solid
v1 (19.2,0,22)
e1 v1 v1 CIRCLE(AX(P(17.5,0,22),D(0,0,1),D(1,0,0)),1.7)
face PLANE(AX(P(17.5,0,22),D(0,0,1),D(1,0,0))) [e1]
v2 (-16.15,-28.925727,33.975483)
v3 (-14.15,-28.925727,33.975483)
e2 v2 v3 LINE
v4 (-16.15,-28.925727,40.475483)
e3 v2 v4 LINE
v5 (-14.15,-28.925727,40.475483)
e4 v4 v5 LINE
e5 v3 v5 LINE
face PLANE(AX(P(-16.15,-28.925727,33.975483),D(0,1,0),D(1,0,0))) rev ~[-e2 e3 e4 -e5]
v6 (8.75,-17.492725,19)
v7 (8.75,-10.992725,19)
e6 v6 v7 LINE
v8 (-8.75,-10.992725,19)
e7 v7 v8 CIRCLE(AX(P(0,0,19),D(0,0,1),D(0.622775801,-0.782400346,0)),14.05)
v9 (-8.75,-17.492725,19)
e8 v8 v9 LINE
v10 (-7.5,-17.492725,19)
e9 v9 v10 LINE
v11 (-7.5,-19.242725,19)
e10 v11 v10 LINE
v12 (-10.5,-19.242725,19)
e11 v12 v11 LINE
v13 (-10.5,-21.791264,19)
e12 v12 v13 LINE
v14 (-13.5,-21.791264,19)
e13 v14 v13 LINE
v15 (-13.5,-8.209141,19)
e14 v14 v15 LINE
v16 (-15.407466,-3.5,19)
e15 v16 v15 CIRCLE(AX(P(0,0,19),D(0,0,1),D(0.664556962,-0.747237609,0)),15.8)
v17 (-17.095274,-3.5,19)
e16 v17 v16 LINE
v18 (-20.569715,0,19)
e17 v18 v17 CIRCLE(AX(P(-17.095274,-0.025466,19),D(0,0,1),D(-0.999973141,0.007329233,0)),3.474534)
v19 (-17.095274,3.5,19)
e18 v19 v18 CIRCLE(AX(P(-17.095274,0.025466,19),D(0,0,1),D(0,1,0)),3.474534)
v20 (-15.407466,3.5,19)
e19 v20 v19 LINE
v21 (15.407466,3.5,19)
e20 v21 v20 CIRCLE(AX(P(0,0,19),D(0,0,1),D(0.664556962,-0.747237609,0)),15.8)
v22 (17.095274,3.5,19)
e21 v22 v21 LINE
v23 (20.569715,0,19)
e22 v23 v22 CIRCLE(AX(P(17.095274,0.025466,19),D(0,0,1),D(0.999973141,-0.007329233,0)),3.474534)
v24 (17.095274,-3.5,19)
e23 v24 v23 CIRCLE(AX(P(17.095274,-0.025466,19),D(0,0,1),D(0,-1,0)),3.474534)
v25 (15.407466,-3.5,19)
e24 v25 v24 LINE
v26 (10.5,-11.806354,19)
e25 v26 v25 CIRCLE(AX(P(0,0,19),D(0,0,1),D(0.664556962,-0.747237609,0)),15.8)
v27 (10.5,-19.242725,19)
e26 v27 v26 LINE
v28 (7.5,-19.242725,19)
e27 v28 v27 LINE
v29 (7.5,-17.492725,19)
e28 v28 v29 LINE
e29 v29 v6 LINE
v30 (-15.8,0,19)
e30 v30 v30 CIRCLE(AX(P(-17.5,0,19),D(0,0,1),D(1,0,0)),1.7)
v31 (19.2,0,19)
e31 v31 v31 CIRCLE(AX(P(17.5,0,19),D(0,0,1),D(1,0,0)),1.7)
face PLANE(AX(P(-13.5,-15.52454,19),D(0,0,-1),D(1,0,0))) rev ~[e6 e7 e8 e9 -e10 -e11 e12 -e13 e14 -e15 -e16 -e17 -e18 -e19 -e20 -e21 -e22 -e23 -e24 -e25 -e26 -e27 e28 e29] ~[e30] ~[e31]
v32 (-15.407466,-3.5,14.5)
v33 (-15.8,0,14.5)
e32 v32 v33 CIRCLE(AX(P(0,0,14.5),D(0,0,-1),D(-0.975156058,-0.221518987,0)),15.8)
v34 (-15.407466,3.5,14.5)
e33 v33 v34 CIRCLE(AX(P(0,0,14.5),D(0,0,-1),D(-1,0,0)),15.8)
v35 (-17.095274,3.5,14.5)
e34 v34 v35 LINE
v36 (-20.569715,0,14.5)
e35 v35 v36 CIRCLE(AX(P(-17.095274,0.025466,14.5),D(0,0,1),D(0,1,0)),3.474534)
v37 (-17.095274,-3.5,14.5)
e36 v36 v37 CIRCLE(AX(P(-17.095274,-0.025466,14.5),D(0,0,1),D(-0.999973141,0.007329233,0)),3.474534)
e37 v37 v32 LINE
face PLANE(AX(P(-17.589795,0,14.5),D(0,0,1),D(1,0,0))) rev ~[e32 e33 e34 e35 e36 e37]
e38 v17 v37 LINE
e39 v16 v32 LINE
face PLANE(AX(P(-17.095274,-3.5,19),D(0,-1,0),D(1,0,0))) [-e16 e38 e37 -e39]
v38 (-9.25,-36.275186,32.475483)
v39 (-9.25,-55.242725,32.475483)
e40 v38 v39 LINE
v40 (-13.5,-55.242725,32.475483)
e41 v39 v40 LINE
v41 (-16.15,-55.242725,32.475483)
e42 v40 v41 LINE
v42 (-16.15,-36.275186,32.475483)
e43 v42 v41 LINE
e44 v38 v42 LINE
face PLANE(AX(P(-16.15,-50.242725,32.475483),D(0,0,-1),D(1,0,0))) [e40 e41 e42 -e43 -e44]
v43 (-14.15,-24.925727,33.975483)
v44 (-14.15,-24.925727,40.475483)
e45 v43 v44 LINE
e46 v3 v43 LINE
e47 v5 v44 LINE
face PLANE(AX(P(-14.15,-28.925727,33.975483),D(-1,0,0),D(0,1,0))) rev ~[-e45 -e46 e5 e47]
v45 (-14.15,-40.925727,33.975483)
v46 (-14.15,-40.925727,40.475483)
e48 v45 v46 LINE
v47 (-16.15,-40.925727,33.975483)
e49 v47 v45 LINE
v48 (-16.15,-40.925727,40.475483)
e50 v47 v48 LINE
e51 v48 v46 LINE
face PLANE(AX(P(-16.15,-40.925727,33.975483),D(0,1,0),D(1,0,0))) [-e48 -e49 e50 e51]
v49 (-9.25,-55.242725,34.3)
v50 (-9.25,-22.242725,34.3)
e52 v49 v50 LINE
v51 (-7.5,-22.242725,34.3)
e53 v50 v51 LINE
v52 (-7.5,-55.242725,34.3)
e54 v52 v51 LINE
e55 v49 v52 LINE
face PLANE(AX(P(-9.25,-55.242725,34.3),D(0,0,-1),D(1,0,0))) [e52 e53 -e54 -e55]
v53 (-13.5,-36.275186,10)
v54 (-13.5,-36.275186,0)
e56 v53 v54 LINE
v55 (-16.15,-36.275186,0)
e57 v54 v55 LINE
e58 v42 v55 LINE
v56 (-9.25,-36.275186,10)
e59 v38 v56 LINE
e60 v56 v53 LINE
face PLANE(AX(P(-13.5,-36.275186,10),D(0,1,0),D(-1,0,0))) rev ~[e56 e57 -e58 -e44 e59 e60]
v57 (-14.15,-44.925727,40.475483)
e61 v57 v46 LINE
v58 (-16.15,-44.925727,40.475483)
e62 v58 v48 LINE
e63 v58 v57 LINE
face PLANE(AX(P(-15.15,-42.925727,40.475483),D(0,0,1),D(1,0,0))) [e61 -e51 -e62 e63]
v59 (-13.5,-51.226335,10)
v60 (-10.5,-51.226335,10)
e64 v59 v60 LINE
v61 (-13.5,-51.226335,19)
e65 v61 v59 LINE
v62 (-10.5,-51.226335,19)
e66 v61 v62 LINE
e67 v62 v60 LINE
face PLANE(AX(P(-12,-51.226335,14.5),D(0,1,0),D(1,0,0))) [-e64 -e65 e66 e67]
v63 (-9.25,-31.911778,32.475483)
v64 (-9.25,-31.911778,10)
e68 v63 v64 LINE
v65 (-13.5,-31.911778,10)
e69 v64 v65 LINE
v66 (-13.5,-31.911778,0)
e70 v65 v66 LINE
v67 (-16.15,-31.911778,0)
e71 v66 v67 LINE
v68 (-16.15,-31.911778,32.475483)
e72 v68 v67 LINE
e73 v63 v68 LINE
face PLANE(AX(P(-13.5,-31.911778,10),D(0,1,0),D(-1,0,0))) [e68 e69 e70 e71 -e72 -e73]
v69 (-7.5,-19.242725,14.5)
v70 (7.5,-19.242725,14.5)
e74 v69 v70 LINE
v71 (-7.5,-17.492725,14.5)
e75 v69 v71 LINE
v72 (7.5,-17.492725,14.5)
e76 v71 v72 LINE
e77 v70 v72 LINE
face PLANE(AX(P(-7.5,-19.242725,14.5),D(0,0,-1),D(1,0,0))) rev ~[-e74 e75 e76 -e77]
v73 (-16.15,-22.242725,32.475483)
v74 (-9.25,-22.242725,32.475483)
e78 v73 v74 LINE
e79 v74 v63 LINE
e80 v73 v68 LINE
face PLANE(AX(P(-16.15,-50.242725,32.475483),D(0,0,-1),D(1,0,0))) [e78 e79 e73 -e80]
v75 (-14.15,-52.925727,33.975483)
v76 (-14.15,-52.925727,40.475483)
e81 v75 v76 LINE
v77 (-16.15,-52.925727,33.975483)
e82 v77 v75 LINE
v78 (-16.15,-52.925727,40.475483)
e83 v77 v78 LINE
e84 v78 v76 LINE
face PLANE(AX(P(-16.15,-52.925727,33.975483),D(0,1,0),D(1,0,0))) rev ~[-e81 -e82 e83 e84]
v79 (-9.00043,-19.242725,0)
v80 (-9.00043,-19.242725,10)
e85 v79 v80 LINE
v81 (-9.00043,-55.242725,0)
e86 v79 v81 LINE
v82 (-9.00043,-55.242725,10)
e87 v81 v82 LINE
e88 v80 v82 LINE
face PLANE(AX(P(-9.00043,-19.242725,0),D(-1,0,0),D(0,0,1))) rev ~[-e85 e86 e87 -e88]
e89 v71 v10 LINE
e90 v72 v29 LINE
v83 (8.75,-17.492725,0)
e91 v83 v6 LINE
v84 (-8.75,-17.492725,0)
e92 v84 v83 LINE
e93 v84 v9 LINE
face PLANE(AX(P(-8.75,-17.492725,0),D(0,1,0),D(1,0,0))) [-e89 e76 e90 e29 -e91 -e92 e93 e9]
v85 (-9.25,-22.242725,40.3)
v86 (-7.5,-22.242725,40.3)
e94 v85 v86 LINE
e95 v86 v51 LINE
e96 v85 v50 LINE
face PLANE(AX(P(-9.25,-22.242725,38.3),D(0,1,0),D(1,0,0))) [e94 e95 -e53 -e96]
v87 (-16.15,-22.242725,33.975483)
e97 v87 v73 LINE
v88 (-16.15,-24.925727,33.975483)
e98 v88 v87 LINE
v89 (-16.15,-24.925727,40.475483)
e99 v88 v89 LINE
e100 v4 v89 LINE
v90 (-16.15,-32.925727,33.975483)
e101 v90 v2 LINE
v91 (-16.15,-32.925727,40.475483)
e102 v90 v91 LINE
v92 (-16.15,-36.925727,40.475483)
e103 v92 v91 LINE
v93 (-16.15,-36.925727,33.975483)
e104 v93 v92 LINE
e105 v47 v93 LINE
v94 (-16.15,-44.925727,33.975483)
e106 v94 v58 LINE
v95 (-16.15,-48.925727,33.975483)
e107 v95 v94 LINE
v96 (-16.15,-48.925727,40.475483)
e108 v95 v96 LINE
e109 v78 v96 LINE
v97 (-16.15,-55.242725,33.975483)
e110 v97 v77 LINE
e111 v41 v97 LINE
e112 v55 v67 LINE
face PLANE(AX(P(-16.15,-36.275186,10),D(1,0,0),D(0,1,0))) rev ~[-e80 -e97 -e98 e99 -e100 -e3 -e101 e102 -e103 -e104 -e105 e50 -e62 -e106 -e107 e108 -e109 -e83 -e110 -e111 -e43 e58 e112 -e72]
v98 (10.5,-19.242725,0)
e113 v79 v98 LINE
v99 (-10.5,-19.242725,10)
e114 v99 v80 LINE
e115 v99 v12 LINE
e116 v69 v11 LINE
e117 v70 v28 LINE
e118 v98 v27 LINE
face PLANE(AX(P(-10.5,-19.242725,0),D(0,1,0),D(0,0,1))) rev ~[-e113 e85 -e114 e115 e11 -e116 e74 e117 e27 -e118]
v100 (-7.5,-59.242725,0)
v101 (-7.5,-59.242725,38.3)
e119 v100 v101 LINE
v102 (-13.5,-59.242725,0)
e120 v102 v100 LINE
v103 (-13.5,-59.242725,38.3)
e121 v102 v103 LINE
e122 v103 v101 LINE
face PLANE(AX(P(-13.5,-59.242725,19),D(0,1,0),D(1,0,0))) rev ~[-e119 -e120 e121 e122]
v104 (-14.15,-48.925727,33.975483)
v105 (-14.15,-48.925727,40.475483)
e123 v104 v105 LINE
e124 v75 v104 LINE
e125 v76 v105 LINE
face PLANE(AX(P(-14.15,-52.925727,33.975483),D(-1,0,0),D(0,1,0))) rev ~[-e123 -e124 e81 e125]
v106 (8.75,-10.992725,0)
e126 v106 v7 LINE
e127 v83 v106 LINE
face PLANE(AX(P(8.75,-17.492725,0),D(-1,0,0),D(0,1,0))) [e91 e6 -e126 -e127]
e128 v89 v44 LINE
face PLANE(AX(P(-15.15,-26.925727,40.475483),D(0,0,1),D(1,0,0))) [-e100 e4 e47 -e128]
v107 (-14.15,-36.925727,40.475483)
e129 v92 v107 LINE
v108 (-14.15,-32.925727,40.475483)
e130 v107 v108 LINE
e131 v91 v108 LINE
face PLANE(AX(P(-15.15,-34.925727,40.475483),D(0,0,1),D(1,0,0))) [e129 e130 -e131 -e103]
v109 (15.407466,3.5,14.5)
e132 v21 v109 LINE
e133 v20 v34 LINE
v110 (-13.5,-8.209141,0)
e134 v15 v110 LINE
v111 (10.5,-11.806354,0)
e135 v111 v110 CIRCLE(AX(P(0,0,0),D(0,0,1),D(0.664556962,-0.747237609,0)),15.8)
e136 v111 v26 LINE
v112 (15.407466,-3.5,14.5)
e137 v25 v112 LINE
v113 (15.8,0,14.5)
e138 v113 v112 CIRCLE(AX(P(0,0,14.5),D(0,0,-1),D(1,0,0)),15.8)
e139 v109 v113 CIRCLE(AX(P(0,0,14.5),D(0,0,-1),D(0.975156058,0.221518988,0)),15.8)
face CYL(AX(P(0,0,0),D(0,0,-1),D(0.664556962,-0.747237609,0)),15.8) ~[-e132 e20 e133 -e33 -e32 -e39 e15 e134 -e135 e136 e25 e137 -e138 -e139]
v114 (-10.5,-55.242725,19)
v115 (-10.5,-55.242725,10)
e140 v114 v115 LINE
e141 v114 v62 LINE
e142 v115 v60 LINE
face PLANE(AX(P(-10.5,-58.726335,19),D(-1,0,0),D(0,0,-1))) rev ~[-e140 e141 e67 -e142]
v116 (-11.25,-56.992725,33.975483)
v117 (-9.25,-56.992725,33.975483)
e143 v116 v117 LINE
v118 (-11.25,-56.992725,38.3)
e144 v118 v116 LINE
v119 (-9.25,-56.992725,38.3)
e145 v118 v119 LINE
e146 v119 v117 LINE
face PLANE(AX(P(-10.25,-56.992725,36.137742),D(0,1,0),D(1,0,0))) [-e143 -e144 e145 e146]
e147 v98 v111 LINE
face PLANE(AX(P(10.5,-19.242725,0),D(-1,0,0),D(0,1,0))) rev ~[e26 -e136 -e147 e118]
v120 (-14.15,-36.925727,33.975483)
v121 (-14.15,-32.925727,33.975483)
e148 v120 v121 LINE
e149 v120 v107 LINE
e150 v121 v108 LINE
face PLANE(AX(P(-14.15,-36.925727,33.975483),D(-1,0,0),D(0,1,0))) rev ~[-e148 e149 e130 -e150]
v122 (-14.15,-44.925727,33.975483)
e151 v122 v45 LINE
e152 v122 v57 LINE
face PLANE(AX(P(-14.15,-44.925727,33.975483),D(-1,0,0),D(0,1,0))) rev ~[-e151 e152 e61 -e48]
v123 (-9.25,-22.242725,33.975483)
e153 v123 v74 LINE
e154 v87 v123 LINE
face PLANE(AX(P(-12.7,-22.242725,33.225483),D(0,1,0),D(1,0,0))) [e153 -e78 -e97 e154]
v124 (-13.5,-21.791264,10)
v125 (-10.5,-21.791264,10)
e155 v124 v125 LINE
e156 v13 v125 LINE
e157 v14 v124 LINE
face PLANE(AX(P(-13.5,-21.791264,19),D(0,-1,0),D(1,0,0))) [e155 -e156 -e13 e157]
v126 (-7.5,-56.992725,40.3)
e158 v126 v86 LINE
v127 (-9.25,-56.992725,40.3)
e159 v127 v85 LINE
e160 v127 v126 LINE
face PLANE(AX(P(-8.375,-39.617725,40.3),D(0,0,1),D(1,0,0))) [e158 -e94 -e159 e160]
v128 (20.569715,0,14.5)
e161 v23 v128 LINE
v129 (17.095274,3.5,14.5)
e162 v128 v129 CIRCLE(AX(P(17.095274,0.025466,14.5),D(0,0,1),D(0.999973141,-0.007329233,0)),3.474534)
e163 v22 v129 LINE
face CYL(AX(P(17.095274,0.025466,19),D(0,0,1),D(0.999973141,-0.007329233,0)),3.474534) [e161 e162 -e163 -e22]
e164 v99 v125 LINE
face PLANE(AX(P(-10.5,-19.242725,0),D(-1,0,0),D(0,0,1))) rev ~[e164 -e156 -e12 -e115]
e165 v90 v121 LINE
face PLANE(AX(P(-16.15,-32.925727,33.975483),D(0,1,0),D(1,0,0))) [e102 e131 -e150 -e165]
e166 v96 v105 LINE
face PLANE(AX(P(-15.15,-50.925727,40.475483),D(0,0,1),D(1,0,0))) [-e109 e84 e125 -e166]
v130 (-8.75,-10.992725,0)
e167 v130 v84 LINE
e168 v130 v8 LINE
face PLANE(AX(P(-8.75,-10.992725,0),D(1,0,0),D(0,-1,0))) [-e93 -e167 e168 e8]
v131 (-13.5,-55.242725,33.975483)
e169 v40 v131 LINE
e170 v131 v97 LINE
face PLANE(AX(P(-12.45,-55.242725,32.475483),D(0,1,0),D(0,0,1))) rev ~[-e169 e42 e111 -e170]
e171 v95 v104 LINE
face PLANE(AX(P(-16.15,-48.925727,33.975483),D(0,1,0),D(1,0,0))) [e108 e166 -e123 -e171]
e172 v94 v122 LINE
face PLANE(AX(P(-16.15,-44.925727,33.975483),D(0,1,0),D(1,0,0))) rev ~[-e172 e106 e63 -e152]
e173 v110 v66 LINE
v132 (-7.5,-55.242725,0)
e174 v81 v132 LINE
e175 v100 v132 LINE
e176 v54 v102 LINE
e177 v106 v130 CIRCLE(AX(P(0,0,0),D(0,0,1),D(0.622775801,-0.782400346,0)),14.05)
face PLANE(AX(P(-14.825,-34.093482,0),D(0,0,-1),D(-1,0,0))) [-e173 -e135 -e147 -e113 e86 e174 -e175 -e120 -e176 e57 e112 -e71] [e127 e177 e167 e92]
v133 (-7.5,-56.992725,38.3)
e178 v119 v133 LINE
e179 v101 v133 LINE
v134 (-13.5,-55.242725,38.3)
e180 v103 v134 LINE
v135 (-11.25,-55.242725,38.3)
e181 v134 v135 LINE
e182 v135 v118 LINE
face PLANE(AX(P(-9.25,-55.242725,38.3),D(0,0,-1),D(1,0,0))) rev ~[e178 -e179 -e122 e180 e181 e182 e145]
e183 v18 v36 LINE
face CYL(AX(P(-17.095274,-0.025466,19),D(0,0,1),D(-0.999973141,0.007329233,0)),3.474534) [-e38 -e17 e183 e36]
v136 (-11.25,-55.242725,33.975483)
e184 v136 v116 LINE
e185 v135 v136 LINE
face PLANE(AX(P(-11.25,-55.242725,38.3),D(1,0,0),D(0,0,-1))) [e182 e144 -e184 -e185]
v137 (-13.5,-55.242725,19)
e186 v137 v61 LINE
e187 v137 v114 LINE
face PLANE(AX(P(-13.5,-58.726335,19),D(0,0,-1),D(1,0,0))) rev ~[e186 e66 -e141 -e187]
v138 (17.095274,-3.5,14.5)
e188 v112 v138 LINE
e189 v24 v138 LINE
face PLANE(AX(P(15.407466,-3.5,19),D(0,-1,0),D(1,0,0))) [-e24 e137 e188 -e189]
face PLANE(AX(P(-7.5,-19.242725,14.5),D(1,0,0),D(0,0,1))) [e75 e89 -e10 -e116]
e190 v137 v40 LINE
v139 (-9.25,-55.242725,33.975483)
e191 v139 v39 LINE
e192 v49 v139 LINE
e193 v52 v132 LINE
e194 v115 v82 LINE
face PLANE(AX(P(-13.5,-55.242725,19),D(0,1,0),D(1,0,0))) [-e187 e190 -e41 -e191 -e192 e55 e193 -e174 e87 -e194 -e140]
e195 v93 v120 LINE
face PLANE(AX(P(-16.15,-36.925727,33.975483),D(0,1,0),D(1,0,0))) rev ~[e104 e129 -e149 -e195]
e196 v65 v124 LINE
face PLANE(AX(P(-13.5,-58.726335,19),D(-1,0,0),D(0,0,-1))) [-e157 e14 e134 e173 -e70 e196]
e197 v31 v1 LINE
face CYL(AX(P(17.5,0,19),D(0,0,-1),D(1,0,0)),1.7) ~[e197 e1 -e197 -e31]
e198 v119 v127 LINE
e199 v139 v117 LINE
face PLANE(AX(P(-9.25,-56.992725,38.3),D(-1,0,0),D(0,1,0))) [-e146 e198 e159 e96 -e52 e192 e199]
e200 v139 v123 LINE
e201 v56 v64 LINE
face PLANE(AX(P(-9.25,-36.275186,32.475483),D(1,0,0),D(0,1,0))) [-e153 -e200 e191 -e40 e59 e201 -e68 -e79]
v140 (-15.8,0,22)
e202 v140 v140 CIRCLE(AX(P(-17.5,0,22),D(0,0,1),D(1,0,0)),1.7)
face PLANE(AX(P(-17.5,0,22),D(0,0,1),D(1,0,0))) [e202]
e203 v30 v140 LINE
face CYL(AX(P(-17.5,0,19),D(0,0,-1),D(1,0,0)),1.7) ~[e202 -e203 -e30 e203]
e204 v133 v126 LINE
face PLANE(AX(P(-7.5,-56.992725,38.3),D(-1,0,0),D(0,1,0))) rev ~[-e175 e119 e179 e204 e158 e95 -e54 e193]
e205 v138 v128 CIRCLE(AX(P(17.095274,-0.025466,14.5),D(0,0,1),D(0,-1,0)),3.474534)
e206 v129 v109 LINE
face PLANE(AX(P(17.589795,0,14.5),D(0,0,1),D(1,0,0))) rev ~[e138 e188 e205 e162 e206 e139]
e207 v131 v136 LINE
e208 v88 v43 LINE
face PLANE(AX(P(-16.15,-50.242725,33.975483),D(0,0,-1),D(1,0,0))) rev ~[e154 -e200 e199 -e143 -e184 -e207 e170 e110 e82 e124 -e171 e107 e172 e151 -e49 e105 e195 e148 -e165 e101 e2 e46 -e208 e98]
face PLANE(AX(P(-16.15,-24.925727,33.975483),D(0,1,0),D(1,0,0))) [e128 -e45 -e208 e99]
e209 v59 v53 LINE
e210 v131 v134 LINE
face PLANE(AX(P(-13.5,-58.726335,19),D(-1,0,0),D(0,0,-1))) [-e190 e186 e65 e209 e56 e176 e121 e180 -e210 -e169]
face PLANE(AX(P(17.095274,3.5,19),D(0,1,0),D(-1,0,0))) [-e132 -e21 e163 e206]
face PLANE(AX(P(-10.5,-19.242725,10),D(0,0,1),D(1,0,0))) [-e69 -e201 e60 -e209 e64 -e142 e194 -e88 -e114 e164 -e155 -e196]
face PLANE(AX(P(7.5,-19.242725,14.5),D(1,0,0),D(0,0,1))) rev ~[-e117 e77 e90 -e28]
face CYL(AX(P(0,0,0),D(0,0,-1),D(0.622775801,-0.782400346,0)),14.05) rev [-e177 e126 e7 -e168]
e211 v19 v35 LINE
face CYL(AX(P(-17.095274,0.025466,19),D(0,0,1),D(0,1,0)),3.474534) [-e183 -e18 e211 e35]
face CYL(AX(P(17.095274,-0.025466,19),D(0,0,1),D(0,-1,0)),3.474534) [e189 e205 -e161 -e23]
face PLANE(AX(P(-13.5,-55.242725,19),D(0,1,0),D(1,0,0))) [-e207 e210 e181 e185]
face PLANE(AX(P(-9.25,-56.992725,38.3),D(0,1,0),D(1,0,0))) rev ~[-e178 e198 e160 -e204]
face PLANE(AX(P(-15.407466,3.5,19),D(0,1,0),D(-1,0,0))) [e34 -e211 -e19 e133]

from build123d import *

# Parameters (mm, degrees)
BOSS_EXTRU_1_DEPTH      = 19
ESQUISSE2_R             = 1.7
BOSS_EXTRU_8_DEPTH      = 4.5
ESQUISSE2_4_R           = 1.7
BOSS_EXTRU_9_DEPTH      = 3
ESQUISSE5_W             = 15
ESQUISSE5_H             = 4.5
ENL_V_MAT_EXTRU_1_DEPTH = 1.75
ESQUISSE20_W            = 19
ESQUISSE20_H            = 3.718185323
BOSS_EXTRU_18_DEPTH     = 3
ESQUISSE21_W            = 3
ESQUISSE21_H            = 19
BOSS_EXTRU_19_DEPTH     = 40
ESQUISSE22_W            = 19
ESQUISSE22_H            = 4
BOSS_EXTRU_20_DEPTH     = 3
ESQUISSE23_W            = 6
ESQUISSE23_H            = 4
BOSS_EXTRU_21_DEPTH     = 19.3
ESQUISSE24_W            = 1.75
ESQUISSE24_H            = 4
BOSS_EXTRU_22_DEPTH     = 33
ESQUISSE25_W            = 2
ESQUISSE25_H            = 4.324516653
ENL_V_MAT_EXTRU_6_DEPTH = 1.75
ESQUISSE26_W            = 3.2
ESQUISSE26_H            = 1.5
BOSS_EXTRU_23_DEPTH     = 5
ESQUISSE27_W            = 1.5
ESQUISSE27_H            = 5
BOSS_EXTRU_24_DEPTH     = 3.7
BOSS_EXTRU_26_REACH     = 63.655
ESQUISSE29_W            = 3
ESQUISSE29_H            = 19
ESQUISSE30_W            = 1.499569939
ESQUISSE30_H            = 10
BOSS_EXTRU_27_DEPTH     = 36
ESQUISSE31_W            = 3
ESQUISSE31_H            = 36.935070483
ENL_V_MAT_EXTRU_7_DEPTH = 9
ESQUISSE32_W            = 3
ESQUISSE32_H            = 9
BOSS_EXTRU_28_DEPTH     = 7.5
ESQUISSE33_W            = 6.9
ESQUISSE33_H            = 1.5
BOSS_EXTRU_29_DEPTH     = 28
ESQUISSE34_W            = 6.9
ESQUISSE34_H            = 4.363408043
BOSS_EXTRU_30_DEPTH     = 22.475483347
ESQUISSE35_W            = 2.65
ESQUISSE35_H            = 4.363408043
BOSS_EXTRU_31_DEPTH     = 10
ESQUISSE36_W            = 2
ESQUISSE36_H            = 4
BOSS_EXTRU_32_DEPTH     = 6.5
ESQUISSE37_W            = 1.75
ESQUISSE37_H            = 34.75
BOSS_EXTRU_33_DEPTH     = 2


with BuildPart() as part:
    # Esquisse1 → Boss.-Extru.1 (new body)
    with BuildSketch(Plane.XY):
        with BuildLine():
            Line((-10.5, -11.806354221), (-10.5, -19.242724867))
            Line((-10.5, -19.242724867), (10.5, -19.242724867))
            Line((10.5, -19.242724867), (10.5, -11.806354221))
            ThreePointArc((10.5, -11.806354221), (0, 15.8), (-10.5, -11.806354221))
        make_face()
        with BuildLine():
            Line((-8.75, -10.992724867), (-8.75, -17.492724867))
            Line((-8.75, -17.492724867), (8.75, -17.492724867))
            Line((8.75, -17.492724867), (8.75, -10.992724867))
            ThreePointArc((8.75, -10.992724867), (0, 14.05), (-8.75, -10.992724867))
        make_face(mode=Mode.SUBTRACT)
    extrude(amount=BOSS_EXTRU_1_DEPTH)



with BuildPart() as body_2:
    # Esquisse2 → Boss.-Extru.8 (new body)
    # profile 1 of 4: a face of its own
    with BuildSketch(Plane.XY.offset(19)):
        with BuildLine():
            ThreePointArc((-15.8, 0), (-15.70155977, 1.760971547), (-15.407465723, 3.5))
            Line((-15.407465723, 3.5), (-17.095274292, 3.5))
            ThreePointArc((-17.095274292, 3.5), (-19.561128115, 2.473312424), (-20.569715298, 0))
            ThreePointArc((-20.569715298, 0), (-19.561128115, -2.473312424), (-17.095274292, -3.5))
            Line((-17.095274292, -3.5), (-15.407465723, -3.5))
            ThreePointArc((-15.407465723, -3.5), (-15.70155977, -1.760971547), (-15.8, 0))
        make_face()
        with Locations((-17.5, 0)):
            Circle(ESQUISSE2_R, mode=Mode.SUBTRACT)
    # profile 2 of 4: a face of its own
    with BuildSketch(Plane.XY.offset(19)):
        with BuildLine():
            Line((17.095274292, 3.5), (15.407465723, 3.5))
            ThreePointArc((15.407465723, 3.5), (15.70155977, 1.76097155), (15.8, 5e-09))
            ThreePointArc((15.8, 5e-09), (15.70155977, -1.760971545), (15.407465723, -3.5))
            Line((15.407465723, -3.5), (17.095274292, -3.5))
            ThreePointArc((17.095274292, -3.5), (19.561128115, -2.473312424), (20.569715298, 0))
            ThreePointArc((20.569715298, 0), (19.561128115, 2.473312424), (17.095274292, 3.5))
        make_face()
        with BuildLine():
            ThreePointArc((19.2, 0), (17.499999997, -1.7), (15.8, 5e-09))
            ThreePointArc((15.8, 5e-09), (17.500000003, 1.7), (19.2, 0))
        make_face(mode=Mode.SUBTRACT)
    # profile 3 of 4: a face of its own
    with BuildSketch(Plane.XY.offset(19)):
        with Locations((-17.5, 0)):
            Circle(ESQUISSE2_R)
    # profile 4 of 4: a face of its own
    with BuildSketch(Plane.XY.offset(19)):
        with Locations((17.5, 0)):
            Circle(ESQUISSE2_R)
    extrude(amount=-BOSS_EXTRU_8_DEPTH)


with BuildPart() as part_1:
    add(part.part)

    add(body_2.part)  # Boss.-Extru.9 merges body 2
    # Esquisse2<4> → Boss.-Extru.9 (add)
    with BuildSketch(Plane.XY.offset(19)):
        with Locations((-17.5, 0)):
            Circle(ESQUISSE2_4_R)
        with Locations((17.5, 0)):
            Circle(ESQUISSE2_4_R)
    extrude(amount=BOSS_EXTRU_9_DEPTH)

    # Esquisse5 → Enlèv. mat.-Extru.1 (cut)
    with BuildSketch(Plane.XZ.offset(19.242724867)):
        with Locations((0, 16.75)):
            Rectangle(ESQUISSE5_W, ESQUISSE5_H)
    extrude(amount=-ENL_V_MAT_EXTRU_1_DEPTH, mode=Mode.SUBTRACT)

    # Esquisse20 → Boss.-Extru.18 (add)
    with BuildSketch(Plane.ZY.offset(10.5)):
        with Locations((9.5, -17.383632205)):
            Rectangle(ESQUISSE20_W, ESQUISSE20_H)
    extrude(amount=BOSS_EXTRU_18_DEPTH)

    # Esquisse21 → Boss.-Extru.19 (add)
    with BuildSketch(Plane.XZ.offset(19.242724867)):
        with Locations((-12, 9.5)):
            Rectangle(ESQUISSE21_W, ESQUISSE21_H)
    extrude(amount=BOSS_EXTRU_19_DEPTH)

    # Esquisse22 → Boss.-Extru.20 (add)
    with BuildSketch(Plane(origin=(-10.5, 0, 0), x_dir=(0, 0, -1), z_dir=(1, 0, 0))):
        with Locations((-9.5, -57.242724867)):
            Rectangle(ESQUISSE22_W, ESQUISSE22_H)
    extrude(amount=BOSS_EXTRU_20_DEPTH)

    # Esquisse23 → Boss.-Extru.21 (add)
    with BuildSketch(Plane.XY.offset(19)):
        with Locations((-10.5, -57.242724867)):
            Rectangle(ESQUISSE23_W, ESQUISSE23_H)
    extrude(amount=BOSS_EXTRU_21_DEPTH)

    # Esquisse24 → Boss.-Extru.22 (add)
    with BuildSketch(Plane(origin=(0, -55.242724867, 0), x_dir=(1, 0, 0), z_dir=(0, 1, 0))):
        with Locations((-8.375, -36.3)):
            Rectangle(ESQUISSE24_W, ESQUISSE24_H)
    extrude(amount=BOSS_EXTRU_22_DEPTH)

    # Esquisse25 → Enlèv. mat.-Extru.6 (cut)
    with BuildSketch(Plane(origin=(0, -55.242724867, 0), x_dir=(1, 0, 0), z_dir=(0, 1, 0))):
        with Locations((-10.25, -36.137741674)):
            Rectangle(ESQUISSE25_W, ESQUISSE25_H)
    extrude(amount=-ENL_V_MAT_EXTRU_6_DEPTH, mode=Mode.SUBTRACT)

    # Esquisse26 → Boss.-Extru.23 (add)
    with BuildSketch(Plane(origin=(0, -55.242724867, 0), x_dir=(1, 0, 0), z_dir=(0, 1, 0))):
        with Locations((-10.85, -33.225483347)):
            Rectangle(ESQUISSE26_W, ESQUISSE26_H)
    extrude(amount=BOSS_EXTRU_23_DEPTH)

    # Esquisse27 → Boss.-Extru.24 (add)
    with BuildSketch(Plane.ZY.offset(12.45)):
        with Locations((33.225483347, -52.742724867)):
            Rectangle(ESQUISSE27_W, ESQUISSE27_H)
    extrude(amount=BOSS_EXTRU_24_DEPTH)

    # Esquisse29 → Boss.-Extru.26 (add, up to next)
    with BuildSketch(Plane(origin=(0, -15.524539544, 0), x_dir=(1, 0, 0), z_dir=(0, 1, 0)), mode=Mode.PRIVATE) as boss_extru_26_sk1:
        with Locations((-12, -9.5)):
            Rectangle(ESQUISSE29_W, ESQUISSE29_H)
    boss_extru_26_tool1 = extrude(boss_extru_26_sk1.sketch, amount=BOSS_EXTRU_26_REACH, mode=Mode.PRIVATE) - part_1.part
    add(boss_extru_26_tool1.solids().sort_by_distance((-12, -15.52454, 9.5))[0])

    # Esquisse30 → Boss.-Extru.27 (add)
    with BuildSketch(Plane.XZ.offset(19.242724867)):
        with Locations((-9.750215031, 5)):
            Rectangle(ESQUISSE30_W, ESQUISSE30_H)
    extrude(amount=BOSS_EXTRU_27_DEPTH)

    # Esquisse31 → Enlèv. mat.-Extru.7 (cut)
    with BuildSketch(Plane.XY.offset(19)):
        with Locations((-12, -40.258799307)):
            Rectangle(ESQUISSE31_W, ESQUISSE31_H)
    extrude(amount=-ENL_V_MAT_EXTRU_7_DEPTH, mode=Mode.SUBTRACT)

    # Esquisse32 → Boss.-Extru.28 (add)
    with BuildSketch(Plane(origin=(0, -58.726334549, 0), x_dir=(1, 0, 0), z_dir=(0, 1, 0))):
        with Locations((-12, -14.5)):
            Rectangle(ESQUISSE32_W, ESQUISSE32_H)
    extrude(amount=BOSS_EXTRU_28_DEPTH)

    # Esquisse33 → Boss.-Extru.29 (add)
    with BuildSketch(Plane(origin=(0, -50.242724867, 0), x_dir=(1, 0, 0), z_dir=(0, 1, 0))):
        with Locations((-12.7, -33.225483347)):
            Rectangle(ESQUISSE33_W, ESQUISSE33_H)
    extrude(amount=BOSS_EXTRU_29_DEPTH)

    # Esquisse34 → Boss.-Extru.30 (add)
    with BuildSketch(Plane(origin=(0, 0, 32.475483347), x_dir=(-1, 0, 0), z_dir=(0, 0, -1))):
        with Locations((12.7, -34.093482268)):
            Rectangle(ESQUISSE34_W, ESQUISSE34_H)
    extrude(amount=BOSS_EXTRU_30_DEPTH)

    # Esquisse35 → Boss.-Extru.31 (add)
    with BuildSketch(Plane(origin=(0, 0, 10), x_dir=(-1, 0, 0), z_dir=(0, 0, -1))):
        with Locations((14.825, -34.093482268)):
            Rectangle(ESQUISSE35_W, ESQUISSE35_H)
    extrude(amount=BOSS_EXTRU_31_DEPTH)

    # Esquisse36 → Boss.-Extru.32 (add)
    with BuildSketch(Plane.XY.offset(33.975483347)):
        with Locations((-15.15, -26.925726739)):
            Rectangle(ESQUISSE36_W, ESQUISSE36_H)
        with Locations((-15.15, -34.925726739)):
            Rectangle(ESQUISSE36_W, ESQUISSE36_H)
        with Locations((-15.15, -42.925726739)):
            Rectangle(ESQUISSE36_W, ESQUISSE36_H)
        with Locations((-15.15, -50.925726739)):
            Rectangle(ESQUISSE36_W, ESQUISSE36_H)
    extrude(amount=BOSS_EXTRU_32_DEPTH)

    # Esquisse37 → Boss.-Extru.33 (add)
    with BuildSketch(Plane.XY.offset(38.3)):
        with Locations((-8.375, -39.617724867)):
            Rectangle(ESQUISSE37_W, ESQUISSE37_H)
    extrude(amount=BOSS_EXTRU_33_DEPTH)


solid = part_1.part
